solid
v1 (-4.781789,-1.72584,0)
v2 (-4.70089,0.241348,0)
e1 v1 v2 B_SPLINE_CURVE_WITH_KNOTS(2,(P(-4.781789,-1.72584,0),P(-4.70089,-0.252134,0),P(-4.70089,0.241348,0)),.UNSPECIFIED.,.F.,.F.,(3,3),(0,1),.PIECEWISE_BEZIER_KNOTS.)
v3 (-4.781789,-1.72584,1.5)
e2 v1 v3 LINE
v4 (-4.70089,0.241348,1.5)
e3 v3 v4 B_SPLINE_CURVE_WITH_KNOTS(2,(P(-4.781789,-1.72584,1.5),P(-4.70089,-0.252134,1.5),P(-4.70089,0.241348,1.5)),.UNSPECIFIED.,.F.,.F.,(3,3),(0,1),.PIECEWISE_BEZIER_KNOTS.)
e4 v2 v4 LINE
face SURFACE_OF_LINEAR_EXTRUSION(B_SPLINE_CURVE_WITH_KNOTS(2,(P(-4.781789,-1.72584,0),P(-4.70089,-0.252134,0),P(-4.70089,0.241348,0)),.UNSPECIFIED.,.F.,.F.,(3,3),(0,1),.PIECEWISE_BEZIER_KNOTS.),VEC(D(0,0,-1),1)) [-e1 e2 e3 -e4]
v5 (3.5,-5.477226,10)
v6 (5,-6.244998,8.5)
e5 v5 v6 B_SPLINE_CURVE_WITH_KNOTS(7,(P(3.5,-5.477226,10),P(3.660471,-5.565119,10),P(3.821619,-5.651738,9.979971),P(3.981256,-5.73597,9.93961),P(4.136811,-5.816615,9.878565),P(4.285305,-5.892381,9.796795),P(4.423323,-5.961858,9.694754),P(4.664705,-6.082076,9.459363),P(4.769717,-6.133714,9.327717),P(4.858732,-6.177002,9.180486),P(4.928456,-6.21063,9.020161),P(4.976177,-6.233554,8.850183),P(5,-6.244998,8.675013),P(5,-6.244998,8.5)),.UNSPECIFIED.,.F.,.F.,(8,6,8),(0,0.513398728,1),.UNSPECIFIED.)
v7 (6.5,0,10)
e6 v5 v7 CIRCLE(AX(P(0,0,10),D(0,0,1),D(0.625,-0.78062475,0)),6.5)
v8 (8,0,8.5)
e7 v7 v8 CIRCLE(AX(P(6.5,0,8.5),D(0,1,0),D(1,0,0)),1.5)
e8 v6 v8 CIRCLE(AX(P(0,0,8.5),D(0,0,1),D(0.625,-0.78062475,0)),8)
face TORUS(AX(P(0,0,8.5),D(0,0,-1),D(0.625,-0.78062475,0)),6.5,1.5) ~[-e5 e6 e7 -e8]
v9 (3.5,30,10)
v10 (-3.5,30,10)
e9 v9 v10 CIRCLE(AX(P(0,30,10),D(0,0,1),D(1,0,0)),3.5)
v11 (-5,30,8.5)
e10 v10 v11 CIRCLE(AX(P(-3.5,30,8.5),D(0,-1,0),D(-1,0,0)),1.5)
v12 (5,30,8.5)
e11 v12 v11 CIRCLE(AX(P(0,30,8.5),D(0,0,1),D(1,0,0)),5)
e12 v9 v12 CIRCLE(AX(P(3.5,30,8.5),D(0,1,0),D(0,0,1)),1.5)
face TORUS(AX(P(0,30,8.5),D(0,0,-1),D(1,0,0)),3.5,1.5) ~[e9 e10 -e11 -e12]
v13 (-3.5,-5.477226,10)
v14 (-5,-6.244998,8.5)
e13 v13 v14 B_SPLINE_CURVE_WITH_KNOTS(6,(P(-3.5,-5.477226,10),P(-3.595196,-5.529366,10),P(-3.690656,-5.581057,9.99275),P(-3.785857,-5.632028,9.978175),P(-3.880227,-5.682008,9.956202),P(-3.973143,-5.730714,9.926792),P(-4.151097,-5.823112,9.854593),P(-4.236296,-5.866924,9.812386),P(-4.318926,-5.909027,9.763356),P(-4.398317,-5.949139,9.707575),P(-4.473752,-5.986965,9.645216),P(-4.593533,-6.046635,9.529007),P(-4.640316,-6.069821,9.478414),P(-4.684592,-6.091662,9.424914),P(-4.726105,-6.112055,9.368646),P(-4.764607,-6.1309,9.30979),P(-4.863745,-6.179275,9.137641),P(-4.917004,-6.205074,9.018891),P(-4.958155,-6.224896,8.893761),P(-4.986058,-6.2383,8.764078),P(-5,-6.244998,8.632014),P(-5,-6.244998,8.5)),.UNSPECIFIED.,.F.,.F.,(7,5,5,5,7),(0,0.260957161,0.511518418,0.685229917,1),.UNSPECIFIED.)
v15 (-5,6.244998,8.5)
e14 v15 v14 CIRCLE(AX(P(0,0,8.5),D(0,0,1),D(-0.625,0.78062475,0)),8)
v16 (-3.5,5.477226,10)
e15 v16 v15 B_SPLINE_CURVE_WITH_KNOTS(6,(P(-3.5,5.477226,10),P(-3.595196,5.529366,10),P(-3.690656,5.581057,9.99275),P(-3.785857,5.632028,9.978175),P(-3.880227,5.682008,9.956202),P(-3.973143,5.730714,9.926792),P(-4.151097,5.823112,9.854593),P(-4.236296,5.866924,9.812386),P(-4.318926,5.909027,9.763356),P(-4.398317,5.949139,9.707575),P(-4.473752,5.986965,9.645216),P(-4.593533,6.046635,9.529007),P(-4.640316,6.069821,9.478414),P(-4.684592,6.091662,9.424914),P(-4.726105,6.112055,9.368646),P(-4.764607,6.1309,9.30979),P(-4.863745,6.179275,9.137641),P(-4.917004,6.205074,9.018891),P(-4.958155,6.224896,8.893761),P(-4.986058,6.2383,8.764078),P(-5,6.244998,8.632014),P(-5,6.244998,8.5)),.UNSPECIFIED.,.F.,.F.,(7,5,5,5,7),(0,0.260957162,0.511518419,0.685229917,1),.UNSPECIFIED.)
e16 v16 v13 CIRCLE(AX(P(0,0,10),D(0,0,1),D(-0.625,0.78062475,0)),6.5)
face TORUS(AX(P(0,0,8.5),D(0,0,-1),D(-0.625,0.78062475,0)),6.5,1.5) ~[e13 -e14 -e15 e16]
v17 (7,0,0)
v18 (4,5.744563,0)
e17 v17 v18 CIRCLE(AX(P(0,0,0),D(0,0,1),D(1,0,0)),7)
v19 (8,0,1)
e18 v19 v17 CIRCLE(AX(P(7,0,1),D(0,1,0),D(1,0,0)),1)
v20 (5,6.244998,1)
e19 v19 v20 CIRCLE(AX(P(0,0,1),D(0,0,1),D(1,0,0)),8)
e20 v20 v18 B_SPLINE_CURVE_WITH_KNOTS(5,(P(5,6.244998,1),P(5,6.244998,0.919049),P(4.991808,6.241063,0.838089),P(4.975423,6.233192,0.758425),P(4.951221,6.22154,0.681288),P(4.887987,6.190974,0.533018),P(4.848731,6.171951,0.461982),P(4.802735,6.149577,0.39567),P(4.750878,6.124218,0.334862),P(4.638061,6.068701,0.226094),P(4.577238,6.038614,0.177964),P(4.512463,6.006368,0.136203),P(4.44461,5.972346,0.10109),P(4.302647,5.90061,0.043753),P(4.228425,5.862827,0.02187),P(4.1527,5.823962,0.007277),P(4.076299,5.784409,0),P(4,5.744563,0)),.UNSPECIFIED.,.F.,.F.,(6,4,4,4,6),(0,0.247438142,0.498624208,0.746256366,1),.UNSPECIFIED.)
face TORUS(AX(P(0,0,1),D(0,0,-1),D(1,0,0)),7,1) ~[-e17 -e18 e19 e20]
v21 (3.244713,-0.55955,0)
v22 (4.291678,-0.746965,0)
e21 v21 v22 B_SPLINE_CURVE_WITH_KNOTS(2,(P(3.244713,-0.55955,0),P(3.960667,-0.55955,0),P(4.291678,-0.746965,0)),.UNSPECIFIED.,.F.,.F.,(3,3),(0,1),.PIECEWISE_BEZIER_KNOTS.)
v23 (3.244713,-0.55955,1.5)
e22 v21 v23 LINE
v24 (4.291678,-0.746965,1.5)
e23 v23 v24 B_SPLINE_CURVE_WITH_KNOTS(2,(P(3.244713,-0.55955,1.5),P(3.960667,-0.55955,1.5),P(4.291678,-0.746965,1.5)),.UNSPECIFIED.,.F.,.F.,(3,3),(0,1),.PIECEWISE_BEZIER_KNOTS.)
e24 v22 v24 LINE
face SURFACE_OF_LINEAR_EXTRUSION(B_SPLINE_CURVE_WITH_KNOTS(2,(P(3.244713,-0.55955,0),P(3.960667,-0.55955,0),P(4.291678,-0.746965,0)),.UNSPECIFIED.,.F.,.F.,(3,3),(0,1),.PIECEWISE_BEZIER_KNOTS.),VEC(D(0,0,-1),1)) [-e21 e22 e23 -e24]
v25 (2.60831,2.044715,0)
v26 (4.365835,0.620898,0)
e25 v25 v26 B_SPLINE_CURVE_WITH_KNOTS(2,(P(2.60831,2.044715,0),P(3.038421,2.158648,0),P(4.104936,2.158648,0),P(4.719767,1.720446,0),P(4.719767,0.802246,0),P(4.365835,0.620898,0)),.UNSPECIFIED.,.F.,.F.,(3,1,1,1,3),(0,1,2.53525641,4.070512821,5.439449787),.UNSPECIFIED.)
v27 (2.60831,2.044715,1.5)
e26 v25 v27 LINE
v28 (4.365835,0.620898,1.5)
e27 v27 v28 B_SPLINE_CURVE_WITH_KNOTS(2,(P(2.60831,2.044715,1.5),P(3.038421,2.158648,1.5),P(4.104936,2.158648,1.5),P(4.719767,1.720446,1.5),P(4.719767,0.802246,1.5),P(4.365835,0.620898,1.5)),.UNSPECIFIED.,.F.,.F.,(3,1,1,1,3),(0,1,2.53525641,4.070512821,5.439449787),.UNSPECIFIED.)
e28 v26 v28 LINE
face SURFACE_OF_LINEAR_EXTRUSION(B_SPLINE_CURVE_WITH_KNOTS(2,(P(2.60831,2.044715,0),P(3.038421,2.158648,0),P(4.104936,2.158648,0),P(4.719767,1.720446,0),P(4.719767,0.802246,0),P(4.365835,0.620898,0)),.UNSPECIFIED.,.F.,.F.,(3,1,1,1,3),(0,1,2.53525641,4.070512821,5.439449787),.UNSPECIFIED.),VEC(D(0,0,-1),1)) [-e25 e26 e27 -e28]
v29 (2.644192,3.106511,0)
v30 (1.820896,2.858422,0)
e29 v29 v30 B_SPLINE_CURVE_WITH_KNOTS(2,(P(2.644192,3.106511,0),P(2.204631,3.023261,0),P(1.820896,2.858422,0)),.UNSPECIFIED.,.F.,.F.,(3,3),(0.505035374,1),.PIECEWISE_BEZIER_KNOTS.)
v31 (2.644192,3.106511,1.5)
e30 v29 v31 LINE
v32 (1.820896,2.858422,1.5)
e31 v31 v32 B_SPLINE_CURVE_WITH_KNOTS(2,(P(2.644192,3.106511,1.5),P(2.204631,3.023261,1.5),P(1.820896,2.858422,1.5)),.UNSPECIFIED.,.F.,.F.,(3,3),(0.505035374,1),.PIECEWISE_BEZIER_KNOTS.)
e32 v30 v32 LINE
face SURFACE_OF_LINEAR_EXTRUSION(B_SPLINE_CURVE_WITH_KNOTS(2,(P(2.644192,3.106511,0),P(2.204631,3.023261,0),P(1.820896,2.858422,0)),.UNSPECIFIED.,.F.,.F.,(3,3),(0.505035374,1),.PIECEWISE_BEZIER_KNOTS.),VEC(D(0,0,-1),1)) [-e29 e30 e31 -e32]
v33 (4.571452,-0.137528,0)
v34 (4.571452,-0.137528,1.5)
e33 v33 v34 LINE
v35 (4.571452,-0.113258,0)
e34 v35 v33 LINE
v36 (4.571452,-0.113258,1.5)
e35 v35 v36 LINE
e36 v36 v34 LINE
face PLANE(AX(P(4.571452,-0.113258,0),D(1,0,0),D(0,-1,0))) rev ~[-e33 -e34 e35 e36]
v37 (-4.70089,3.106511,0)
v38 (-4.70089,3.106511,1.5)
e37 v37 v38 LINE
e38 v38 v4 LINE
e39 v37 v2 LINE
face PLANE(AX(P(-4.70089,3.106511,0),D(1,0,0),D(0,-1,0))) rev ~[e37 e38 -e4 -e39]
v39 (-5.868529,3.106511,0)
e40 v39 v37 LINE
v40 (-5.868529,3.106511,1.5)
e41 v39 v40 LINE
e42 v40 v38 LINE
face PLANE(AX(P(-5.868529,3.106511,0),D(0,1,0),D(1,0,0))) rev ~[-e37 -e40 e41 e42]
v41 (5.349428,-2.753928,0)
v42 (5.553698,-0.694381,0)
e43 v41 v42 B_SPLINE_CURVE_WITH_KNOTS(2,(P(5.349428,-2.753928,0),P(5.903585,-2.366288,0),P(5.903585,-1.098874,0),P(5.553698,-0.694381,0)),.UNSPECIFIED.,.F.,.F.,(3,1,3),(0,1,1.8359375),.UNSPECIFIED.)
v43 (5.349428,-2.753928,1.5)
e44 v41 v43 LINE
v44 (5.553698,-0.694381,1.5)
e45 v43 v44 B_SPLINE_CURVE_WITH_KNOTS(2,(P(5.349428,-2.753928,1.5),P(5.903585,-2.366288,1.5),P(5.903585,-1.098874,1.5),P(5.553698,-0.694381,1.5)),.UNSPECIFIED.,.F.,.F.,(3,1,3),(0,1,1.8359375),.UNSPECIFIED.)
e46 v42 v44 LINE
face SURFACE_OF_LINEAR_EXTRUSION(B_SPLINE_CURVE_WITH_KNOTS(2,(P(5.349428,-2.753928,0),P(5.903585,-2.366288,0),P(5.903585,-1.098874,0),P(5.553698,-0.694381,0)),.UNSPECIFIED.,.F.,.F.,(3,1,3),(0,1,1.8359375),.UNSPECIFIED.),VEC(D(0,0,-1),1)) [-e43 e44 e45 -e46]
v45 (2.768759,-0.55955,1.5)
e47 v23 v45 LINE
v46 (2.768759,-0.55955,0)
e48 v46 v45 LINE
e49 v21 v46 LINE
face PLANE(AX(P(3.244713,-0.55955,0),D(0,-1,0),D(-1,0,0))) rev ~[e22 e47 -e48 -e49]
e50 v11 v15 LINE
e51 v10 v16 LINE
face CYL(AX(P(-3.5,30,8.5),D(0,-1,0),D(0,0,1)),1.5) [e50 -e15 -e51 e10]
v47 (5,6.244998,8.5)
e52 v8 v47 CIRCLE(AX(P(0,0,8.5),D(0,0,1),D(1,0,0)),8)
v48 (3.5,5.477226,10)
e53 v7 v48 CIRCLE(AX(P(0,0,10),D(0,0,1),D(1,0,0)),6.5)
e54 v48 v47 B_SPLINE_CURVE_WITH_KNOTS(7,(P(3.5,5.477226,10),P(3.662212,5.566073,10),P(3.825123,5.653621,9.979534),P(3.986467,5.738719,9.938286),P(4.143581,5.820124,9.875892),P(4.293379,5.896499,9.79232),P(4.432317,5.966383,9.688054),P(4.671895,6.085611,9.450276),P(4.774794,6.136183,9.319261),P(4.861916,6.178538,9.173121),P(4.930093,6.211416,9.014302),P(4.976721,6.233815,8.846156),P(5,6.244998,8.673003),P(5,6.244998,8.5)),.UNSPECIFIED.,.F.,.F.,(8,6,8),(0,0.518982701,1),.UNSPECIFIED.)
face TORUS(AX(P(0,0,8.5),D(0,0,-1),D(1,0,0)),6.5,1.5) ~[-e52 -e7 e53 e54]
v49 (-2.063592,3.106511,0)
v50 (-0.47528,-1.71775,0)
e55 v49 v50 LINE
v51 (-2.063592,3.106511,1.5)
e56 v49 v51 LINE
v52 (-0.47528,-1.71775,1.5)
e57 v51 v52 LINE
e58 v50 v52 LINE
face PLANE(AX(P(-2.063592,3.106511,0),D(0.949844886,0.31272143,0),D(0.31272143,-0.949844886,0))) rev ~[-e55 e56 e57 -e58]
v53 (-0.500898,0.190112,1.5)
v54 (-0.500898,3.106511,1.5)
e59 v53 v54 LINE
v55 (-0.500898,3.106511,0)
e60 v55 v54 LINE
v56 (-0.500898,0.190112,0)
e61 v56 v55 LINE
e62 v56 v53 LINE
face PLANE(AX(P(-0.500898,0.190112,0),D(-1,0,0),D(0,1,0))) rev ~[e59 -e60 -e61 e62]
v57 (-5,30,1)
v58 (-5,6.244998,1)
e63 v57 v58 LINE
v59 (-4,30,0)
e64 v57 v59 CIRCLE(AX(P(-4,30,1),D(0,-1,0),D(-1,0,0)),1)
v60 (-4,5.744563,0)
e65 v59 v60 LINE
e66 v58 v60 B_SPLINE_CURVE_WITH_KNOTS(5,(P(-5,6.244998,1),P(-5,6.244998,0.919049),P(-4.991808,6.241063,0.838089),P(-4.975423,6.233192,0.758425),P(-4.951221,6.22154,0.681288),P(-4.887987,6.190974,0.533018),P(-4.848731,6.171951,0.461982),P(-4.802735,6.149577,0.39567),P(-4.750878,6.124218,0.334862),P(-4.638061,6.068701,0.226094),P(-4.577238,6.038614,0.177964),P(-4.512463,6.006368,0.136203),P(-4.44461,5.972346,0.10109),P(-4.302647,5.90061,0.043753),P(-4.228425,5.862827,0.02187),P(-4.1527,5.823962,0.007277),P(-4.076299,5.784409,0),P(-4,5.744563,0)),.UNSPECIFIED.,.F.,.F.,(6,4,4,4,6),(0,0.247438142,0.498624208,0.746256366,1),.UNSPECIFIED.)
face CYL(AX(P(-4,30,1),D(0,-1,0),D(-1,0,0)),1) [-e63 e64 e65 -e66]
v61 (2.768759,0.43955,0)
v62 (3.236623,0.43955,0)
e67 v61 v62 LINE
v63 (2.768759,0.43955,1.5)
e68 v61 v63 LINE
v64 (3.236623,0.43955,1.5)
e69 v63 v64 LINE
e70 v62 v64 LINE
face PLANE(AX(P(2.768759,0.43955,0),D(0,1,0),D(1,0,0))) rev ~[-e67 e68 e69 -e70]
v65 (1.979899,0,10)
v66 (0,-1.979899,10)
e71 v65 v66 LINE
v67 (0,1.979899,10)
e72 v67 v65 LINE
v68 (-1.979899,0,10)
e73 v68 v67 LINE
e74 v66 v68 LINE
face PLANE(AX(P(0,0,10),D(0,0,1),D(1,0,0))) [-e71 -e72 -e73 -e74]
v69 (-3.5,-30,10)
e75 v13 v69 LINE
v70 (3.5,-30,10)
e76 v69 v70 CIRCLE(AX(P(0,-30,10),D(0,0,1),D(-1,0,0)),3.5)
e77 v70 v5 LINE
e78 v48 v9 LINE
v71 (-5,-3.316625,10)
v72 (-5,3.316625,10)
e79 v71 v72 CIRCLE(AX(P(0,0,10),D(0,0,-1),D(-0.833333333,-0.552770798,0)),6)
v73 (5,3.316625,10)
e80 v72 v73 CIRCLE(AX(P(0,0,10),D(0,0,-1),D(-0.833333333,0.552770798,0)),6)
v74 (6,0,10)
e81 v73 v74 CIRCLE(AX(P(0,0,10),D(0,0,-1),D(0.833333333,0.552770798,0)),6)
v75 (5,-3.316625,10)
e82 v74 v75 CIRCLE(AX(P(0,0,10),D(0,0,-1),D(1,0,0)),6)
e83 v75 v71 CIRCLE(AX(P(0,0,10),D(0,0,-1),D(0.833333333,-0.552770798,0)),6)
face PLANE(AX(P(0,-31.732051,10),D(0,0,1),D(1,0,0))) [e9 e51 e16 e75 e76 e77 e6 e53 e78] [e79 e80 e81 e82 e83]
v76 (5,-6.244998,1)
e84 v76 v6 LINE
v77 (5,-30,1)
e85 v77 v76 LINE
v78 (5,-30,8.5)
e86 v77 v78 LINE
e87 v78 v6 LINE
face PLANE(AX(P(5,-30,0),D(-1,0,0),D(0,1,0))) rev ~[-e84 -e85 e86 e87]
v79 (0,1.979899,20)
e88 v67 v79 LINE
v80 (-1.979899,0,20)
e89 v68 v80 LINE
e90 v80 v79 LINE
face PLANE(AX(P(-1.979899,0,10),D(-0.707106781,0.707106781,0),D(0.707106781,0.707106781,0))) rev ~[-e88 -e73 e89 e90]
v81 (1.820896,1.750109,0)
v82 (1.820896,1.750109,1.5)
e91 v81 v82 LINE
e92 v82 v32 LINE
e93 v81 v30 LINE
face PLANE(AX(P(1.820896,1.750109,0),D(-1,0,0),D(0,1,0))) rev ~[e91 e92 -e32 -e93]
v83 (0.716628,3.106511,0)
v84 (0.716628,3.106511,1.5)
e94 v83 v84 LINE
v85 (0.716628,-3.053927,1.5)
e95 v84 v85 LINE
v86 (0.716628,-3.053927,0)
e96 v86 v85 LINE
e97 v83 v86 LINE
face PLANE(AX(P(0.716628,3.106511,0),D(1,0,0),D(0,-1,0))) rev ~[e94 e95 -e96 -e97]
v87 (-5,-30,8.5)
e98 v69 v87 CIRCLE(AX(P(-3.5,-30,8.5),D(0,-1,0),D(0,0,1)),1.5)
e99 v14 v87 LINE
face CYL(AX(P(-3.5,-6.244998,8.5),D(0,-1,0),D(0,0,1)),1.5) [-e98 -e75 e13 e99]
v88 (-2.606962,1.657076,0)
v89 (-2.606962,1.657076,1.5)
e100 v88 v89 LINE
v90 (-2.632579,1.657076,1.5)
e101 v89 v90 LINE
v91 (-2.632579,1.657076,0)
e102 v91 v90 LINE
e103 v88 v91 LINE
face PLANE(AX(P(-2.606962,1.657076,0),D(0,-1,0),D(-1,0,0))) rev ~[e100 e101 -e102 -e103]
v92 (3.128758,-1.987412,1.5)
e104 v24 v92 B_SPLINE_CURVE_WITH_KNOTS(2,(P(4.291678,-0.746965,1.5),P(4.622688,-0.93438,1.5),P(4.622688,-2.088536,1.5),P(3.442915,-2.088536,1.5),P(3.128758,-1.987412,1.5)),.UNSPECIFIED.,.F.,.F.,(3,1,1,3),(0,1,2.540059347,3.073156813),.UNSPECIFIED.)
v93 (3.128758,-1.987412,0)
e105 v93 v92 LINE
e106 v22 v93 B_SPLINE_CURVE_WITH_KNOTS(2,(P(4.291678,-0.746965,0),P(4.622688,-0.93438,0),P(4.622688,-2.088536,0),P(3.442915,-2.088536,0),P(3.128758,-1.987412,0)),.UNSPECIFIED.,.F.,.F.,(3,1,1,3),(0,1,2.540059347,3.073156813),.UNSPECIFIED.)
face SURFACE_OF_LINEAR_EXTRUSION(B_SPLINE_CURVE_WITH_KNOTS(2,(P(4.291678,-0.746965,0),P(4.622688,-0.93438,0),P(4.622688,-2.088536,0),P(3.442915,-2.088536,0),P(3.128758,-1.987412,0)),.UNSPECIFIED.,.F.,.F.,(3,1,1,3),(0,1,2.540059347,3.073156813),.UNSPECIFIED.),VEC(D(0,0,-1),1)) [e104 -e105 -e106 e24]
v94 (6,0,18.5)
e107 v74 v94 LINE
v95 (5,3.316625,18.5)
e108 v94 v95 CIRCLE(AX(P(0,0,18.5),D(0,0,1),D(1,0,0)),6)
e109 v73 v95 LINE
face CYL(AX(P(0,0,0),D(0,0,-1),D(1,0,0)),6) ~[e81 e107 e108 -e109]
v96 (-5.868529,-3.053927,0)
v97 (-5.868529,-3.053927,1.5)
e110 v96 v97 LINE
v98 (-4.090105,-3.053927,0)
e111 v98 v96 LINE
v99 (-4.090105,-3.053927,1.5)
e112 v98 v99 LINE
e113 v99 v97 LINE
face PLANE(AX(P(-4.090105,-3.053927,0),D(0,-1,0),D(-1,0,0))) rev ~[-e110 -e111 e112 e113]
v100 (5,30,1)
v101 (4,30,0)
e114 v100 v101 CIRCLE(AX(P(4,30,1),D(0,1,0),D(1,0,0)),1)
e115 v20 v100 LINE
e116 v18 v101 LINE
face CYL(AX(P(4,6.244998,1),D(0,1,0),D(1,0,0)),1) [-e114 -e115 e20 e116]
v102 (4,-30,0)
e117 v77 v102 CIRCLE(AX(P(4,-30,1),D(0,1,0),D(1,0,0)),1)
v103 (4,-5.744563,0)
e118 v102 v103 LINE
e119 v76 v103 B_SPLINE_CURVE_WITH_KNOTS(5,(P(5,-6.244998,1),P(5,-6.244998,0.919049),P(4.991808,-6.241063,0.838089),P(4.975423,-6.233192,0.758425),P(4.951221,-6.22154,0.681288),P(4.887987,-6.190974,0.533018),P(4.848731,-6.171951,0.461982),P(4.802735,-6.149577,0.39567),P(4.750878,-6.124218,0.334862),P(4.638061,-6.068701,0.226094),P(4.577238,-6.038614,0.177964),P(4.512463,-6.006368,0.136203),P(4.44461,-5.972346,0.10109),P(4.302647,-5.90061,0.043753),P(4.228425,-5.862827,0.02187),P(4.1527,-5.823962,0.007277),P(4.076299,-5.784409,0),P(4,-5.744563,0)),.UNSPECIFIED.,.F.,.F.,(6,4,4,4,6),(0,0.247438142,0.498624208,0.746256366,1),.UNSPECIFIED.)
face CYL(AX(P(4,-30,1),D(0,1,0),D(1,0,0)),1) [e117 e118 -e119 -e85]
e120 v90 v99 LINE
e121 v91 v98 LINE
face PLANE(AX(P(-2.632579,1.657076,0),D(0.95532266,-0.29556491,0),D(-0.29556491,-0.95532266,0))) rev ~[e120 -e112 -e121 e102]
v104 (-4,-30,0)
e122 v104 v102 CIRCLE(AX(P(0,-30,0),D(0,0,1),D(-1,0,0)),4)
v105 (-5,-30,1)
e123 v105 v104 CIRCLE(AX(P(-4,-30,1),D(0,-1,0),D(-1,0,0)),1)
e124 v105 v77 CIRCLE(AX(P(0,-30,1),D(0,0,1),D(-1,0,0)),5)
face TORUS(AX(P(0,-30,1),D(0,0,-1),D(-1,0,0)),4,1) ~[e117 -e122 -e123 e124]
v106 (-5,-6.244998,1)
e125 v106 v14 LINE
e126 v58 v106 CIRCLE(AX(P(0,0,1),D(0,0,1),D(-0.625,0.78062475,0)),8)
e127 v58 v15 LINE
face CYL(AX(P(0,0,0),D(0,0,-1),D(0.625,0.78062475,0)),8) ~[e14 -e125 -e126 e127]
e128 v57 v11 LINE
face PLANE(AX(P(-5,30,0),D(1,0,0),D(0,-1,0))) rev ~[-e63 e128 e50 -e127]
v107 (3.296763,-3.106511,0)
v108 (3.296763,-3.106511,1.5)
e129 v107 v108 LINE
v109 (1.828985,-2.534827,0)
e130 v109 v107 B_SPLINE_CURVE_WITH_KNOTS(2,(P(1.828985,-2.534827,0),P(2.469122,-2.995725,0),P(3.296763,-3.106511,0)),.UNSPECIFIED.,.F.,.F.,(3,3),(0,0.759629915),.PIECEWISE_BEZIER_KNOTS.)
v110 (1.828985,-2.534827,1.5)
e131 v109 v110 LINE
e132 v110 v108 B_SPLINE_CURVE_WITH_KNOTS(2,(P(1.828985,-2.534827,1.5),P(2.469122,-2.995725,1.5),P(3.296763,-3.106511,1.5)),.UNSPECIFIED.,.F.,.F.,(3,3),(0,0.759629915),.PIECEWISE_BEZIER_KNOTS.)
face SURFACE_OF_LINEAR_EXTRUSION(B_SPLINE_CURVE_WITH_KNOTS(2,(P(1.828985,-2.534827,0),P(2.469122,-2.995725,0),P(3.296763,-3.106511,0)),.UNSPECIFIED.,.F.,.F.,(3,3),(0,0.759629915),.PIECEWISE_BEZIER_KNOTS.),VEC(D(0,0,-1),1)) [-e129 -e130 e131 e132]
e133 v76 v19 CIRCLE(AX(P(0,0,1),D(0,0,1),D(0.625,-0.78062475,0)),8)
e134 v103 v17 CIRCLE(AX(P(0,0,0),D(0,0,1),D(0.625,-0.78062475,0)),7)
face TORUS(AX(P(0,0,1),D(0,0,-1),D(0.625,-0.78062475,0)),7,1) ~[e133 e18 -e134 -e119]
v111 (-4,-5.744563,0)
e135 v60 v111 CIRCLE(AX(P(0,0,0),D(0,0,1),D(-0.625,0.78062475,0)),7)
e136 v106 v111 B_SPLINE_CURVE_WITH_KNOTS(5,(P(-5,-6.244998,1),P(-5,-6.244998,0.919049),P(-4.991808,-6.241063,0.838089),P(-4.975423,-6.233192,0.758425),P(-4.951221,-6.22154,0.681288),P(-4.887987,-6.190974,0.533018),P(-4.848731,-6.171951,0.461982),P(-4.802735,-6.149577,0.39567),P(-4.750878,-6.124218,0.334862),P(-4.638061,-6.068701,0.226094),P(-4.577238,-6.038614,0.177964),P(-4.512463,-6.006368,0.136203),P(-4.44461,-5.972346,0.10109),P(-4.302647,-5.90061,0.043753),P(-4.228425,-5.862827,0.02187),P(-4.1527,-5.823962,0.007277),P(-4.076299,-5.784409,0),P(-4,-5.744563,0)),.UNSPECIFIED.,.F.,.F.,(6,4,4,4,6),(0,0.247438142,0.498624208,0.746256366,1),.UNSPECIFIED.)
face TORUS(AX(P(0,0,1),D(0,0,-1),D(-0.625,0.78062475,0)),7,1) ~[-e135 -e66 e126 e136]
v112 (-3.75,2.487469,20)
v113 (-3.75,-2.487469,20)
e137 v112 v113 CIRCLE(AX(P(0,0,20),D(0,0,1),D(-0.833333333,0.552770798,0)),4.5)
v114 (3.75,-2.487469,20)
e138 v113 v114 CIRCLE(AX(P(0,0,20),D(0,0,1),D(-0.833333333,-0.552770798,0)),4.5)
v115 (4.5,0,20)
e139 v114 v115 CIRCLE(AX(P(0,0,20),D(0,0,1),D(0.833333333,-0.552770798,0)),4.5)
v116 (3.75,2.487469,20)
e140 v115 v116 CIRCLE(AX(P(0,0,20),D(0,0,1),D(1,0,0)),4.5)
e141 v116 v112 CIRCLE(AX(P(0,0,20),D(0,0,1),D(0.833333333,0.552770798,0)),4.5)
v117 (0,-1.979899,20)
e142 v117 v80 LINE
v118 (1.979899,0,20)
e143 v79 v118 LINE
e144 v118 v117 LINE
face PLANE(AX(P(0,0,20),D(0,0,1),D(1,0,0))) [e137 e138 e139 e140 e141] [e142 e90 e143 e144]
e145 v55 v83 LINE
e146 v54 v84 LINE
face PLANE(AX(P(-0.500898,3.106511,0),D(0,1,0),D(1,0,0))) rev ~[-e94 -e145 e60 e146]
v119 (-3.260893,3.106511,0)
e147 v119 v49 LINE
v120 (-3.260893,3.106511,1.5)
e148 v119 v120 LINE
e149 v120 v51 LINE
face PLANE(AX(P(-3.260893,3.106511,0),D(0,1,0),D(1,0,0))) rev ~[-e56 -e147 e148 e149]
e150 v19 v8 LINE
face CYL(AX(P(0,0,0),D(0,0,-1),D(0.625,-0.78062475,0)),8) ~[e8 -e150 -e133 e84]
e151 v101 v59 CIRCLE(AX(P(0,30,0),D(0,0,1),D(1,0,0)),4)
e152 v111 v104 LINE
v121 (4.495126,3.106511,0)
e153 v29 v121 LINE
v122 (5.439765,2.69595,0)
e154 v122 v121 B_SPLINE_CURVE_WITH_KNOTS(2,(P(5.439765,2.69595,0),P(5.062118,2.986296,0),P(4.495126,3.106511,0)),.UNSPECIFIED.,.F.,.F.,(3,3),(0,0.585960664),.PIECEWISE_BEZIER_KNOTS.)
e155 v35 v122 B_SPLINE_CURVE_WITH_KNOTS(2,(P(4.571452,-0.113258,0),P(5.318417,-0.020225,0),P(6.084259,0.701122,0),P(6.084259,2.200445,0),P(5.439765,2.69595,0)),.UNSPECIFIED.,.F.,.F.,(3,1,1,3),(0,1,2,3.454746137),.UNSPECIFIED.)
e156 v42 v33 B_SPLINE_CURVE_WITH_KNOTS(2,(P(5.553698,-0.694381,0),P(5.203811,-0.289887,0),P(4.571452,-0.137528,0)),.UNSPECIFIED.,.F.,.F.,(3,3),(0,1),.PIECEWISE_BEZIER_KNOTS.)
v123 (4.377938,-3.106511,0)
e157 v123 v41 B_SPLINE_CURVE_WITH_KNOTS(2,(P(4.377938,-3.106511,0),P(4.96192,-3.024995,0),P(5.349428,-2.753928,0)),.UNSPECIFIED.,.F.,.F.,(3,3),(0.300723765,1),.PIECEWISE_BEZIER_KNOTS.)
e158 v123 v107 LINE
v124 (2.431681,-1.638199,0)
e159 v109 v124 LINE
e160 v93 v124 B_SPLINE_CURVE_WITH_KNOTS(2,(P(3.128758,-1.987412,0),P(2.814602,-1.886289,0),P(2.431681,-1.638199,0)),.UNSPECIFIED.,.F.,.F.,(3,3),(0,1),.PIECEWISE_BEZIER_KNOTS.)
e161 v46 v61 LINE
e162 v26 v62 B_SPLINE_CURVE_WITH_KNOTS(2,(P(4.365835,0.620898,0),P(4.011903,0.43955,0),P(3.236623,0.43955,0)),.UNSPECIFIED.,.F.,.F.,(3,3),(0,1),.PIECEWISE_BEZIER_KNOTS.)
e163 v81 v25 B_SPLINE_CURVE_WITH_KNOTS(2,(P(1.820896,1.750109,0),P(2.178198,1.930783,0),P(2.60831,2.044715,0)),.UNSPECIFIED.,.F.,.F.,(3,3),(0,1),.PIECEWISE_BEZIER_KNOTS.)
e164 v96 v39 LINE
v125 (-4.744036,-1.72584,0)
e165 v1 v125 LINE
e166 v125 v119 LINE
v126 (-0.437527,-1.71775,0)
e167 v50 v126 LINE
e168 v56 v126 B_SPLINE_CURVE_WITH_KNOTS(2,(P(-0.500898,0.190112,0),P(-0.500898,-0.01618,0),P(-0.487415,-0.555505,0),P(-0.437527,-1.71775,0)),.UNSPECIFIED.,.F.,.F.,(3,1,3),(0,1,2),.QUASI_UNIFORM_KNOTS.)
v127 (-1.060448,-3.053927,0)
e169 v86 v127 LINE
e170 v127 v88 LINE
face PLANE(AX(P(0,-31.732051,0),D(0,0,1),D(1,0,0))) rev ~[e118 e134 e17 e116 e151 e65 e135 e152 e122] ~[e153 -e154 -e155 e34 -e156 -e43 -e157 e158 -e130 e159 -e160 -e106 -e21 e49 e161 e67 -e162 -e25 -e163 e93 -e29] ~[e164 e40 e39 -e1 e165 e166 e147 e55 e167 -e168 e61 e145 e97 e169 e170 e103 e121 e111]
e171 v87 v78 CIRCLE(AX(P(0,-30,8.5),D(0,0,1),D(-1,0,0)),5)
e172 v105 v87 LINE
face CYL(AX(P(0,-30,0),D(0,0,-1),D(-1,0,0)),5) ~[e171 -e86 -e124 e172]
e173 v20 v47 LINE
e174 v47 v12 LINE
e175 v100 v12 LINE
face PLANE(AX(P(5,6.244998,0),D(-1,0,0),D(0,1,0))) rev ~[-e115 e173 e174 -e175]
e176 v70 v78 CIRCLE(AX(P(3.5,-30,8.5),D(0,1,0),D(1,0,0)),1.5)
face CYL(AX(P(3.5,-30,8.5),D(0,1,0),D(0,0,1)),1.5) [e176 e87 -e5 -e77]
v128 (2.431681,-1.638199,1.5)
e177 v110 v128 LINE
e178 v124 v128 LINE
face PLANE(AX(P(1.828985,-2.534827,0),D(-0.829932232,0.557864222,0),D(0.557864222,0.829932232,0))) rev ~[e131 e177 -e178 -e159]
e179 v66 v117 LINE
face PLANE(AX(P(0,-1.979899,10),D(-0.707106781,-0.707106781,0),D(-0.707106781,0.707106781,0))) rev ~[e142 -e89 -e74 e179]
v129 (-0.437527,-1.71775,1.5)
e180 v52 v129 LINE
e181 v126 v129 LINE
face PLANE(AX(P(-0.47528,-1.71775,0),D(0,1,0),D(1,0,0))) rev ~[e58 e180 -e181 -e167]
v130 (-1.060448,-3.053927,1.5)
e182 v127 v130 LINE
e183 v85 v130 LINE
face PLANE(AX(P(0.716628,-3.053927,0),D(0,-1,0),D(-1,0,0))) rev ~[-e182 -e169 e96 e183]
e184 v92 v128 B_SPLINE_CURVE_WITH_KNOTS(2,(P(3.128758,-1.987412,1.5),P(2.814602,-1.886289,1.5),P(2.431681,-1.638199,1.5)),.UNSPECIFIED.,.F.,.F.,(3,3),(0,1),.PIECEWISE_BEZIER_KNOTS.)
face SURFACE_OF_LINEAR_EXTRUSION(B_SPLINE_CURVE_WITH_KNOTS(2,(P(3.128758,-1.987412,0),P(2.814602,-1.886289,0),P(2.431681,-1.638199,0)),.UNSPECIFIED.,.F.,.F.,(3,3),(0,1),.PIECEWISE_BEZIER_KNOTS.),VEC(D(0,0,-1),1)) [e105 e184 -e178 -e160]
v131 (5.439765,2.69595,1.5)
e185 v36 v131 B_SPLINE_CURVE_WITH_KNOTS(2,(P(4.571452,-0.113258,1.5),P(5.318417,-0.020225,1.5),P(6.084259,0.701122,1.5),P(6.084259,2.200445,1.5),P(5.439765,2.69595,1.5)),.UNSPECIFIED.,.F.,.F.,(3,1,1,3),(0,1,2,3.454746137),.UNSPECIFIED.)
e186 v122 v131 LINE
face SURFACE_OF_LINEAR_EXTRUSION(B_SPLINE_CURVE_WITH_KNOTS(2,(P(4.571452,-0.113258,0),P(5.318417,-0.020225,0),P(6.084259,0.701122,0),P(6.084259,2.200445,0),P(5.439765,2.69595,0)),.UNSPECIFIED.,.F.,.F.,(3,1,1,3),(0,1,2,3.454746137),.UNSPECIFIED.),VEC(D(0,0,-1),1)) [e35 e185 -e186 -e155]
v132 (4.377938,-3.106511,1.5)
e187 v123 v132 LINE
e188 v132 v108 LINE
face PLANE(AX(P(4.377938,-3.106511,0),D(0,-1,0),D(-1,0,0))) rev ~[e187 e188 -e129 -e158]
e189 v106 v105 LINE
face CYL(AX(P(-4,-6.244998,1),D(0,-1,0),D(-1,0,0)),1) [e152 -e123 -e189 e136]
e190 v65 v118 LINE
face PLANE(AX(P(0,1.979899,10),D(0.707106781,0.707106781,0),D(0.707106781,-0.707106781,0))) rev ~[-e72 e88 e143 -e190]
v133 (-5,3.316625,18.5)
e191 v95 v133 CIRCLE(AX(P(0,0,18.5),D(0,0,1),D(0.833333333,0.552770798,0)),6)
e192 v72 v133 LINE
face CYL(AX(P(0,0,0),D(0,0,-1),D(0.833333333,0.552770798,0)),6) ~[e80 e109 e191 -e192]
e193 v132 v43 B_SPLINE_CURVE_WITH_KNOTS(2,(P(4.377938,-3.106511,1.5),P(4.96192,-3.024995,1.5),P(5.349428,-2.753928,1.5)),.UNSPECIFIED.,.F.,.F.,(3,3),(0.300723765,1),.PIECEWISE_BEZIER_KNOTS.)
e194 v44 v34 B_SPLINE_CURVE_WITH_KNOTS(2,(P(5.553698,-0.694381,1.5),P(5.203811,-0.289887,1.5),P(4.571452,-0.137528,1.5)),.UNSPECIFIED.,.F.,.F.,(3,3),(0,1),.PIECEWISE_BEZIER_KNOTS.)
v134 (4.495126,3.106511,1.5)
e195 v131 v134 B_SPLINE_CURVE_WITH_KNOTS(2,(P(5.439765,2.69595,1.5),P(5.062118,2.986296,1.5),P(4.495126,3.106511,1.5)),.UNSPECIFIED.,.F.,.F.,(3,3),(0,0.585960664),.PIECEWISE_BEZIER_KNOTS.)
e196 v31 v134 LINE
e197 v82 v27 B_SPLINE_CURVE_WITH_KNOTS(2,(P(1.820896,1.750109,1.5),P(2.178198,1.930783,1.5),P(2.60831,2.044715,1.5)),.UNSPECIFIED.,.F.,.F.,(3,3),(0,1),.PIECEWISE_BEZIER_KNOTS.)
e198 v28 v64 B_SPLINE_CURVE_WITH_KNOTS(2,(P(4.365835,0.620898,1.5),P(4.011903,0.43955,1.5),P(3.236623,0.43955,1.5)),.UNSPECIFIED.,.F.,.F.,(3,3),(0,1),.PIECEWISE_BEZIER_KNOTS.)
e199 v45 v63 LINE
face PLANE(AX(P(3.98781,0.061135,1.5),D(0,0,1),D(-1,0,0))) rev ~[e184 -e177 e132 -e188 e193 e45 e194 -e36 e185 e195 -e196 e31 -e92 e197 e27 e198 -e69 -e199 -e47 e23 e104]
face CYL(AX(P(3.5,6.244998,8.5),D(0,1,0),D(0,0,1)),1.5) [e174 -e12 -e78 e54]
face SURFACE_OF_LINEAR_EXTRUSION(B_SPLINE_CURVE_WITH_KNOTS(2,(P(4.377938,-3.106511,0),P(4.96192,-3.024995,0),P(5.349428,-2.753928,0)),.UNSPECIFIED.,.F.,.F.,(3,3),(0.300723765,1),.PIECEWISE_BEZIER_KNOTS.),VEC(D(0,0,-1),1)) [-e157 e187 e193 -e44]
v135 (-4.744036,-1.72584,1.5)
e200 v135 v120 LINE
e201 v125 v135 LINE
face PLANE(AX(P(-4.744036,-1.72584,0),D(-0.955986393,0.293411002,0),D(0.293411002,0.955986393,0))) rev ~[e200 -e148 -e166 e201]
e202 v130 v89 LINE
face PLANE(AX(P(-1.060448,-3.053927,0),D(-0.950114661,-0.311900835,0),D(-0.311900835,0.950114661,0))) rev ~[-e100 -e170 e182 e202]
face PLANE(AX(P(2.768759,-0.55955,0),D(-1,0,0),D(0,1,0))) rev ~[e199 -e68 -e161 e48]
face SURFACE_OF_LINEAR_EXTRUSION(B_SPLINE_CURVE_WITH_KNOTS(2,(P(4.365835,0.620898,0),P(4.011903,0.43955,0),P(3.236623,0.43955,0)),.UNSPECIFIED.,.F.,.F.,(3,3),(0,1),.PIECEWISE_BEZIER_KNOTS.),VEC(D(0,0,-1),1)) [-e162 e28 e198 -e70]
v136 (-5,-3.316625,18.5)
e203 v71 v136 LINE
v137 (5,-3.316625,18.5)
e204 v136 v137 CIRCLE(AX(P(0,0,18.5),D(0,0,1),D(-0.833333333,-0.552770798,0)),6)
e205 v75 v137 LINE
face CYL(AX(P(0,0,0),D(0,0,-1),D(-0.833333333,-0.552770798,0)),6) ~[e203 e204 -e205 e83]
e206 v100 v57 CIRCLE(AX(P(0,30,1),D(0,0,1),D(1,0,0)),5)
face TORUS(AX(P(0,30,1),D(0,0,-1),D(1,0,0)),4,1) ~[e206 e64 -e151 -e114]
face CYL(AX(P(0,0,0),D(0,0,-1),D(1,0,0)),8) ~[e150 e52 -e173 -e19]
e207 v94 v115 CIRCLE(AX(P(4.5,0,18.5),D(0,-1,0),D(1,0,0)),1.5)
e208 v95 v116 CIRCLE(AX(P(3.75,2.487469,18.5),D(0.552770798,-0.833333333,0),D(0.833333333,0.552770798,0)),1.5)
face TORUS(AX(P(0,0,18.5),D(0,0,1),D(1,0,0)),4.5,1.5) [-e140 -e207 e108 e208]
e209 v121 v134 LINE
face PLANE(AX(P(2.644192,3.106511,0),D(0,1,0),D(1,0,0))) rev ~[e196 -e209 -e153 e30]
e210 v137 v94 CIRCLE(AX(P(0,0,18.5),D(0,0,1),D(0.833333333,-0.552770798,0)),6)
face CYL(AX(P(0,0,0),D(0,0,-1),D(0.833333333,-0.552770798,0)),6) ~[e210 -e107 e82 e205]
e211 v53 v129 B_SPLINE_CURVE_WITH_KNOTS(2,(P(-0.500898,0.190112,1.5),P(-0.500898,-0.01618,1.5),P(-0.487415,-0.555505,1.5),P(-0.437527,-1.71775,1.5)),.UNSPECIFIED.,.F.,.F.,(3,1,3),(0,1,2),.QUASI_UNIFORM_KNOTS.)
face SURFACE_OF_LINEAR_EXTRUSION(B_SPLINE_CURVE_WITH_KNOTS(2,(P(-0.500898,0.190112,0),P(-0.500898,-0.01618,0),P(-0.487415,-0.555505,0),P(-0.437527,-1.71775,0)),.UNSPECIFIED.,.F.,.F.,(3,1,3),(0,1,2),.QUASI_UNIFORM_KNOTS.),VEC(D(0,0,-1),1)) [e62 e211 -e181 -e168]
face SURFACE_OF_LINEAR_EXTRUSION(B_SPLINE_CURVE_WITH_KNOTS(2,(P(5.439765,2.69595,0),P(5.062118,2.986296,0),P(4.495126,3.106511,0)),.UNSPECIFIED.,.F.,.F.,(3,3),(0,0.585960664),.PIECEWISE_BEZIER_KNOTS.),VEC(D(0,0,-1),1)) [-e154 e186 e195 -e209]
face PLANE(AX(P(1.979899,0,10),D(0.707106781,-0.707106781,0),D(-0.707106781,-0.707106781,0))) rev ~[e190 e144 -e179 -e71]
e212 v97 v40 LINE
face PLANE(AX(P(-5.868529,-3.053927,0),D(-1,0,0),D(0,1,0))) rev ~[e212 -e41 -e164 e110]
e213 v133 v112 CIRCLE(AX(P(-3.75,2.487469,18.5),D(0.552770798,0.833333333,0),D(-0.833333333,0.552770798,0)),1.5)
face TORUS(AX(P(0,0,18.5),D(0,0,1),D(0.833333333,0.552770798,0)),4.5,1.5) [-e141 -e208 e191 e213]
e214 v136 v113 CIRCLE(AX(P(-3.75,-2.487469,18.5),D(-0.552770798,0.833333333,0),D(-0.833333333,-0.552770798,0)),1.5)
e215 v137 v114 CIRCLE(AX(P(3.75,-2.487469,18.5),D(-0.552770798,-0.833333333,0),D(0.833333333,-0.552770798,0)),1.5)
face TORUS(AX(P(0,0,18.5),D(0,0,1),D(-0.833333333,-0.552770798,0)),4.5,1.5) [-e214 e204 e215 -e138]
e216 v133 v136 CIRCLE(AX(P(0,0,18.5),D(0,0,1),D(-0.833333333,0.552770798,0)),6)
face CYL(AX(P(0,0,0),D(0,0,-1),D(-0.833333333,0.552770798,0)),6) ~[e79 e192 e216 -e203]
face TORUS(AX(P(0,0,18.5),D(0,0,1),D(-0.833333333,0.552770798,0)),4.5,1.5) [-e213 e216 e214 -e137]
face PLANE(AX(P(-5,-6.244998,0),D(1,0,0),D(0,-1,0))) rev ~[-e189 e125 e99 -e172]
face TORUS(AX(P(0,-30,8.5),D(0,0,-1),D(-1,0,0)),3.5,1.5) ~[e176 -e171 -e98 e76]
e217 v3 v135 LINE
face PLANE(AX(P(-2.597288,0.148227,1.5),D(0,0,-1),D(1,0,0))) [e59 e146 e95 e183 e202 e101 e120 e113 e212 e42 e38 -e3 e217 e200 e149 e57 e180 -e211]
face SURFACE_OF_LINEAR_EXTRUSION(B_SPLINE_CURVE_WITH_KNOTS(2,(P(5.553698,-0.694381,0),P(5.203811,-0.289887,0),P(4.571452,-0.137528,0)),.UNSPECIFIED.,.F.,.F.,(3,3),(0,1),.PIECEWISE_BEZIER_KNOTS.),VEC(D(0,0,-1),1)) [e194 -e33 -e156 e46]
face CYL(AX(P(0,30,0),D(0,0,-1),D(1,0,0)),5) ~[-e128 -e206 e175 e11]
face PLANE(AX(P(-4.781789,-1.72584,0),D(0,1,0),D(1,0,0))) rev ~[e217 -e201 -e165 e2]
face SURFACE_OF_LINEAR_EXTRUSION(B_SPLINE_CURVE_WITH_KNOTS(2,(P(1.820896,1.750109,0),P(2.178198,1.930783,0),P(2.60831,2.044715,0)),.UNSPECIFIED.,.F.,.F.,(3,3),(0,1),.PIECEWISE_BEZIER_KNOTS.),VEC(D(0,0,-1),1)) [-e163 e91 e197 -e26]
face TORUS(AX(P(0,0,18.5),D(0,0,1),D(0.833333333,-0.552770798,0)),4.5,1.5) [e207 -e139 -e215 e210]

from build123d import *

# Parameters (mm, degrees)
F1_DEPTH  = 20
F2_DEPTH  = 10
F3_R      = 3.5197597043
F4_DEPTH  = 10
F6_DEPTH  = 1.5
F7_R      = 1.5
F8_R      = 1.5
F9_R      = 1
F11_DEPTH = 10


with BuildPart() as f1:
    # F0 (on Top) → F1 (new body)
    with BuildSketch(Plane.XY):
        with BuildLine():
            ThreePointArc((-5, -3.3166247904), (0, -6), (5, -3.3166247904))
            Line((5, -3.3166247904), (5, 3.3166247904))
            ThreePointArc((5, 3.3166247904), (0, 6), (-5, 3.3166247904))
            Line((-5, 3.3166247904), (-5, -3.3166247904))
        make_face()
        Polygon((2.8284271247, 0), (0, -2.8284271247), (-2.8284271247, 0), (0, 2.8284271247), align=None, mode=Mode.SUBTRACT)
        with BuildLine():
            Line((5, 3.3166247904), (5, -3.3166247904))
            ThreePointArc((5, -3.3166247904), (5.7445626465, -1.7320508076), (6, 0))
            ThreePointArc((6, 0), (5.7445626465, 1.7320508076), (5, 3.3166247904))
        make_face()
        with BuildLine():
            ThreePointArc((-5, 3.3166247904), (-6, 0), (-5, -3.3166247904))
            Line((-5, -3.3166247904), (-5, 3.3166247904))
        make_face()
    extrude(amount=F1_DEPTH)

    # F0 (on Top) → F2 (join)
    with BuildSketch(Plane.XY):
        with BuildLine():
            ThreePointArc((-5, -30), (0, -35), (5, -30))
            Line((5, -30), (-5, -30))
        make_face()
        with BuildLine():
            Line((-5, -30), (5, -30))
            Line((5, -30), (5, -6.2449979984))
            ThreePointArc((5, -6.2449979984), (0, -8), (-5, -6.2449979984))
            Line((-5, -6.2449979984), (-5, -30))
        make_face()
        with BuildLine():
            ThreePointArc((-5, -6.2449979984), (0, -8), (5, -6.2449979984))
            Line((5, -6.2449979984), (5, -3.3166247904))
            ThreePointArc((5, -3.3166247904), (0, -6), (-5, -3.3166247904))
            Line((-5, -3.3166247904), (-5, -6.2449979984))
        make_face()
        with BuildLine():
            Line((5, -3.3166247904), (5, -6.2449979984))
            ThreePointArc((5, -6.2449979984), (7.2111025509, -3.4641016151), (8, 0))
            ThreePointArc((8, 0), (7.2111025509, 3.4641016151), (5, 6.2449979984))
            Line((5, 6.2449979984), (5, 3.3166247904))
            ThreePointArc((5, 3.3166247904), (5.7445626465, 1.7320508076), (6, 0))
            ThreePointArc((6, 0), (5.7445626465, -1.7320508076), (5, -3.3166247904))
        make_face()
        with BuildLine():
            ThreePointArc((-5, 6.2449979984), (-8, 0), (-5, -6.2449979984))
            Line((-5, -6.2449979984), (-5, -3.3166247904))
            ThreePointArc((-5, -3.3166247904), (-6, 0), (-5, 3.3166247904))
            Line((-5, 3.3166247904), (-5, 6.2449979984))
        make_face()
        with BuildLine():
            ThreePointArc((5, 6.2449979984), (0, 8), (-5, 6.2449979984))
            Line((-5, 6.2449979984), (-5, 3.3166247904))
            ThreePointArc((-5, 3.3166247904), (0, 6), (5, 3.3166247904))
            Line((5, 3.3166247904), (5, 6.2449979984))
        make_face()
        with BuildLine():
            Line((-5, 30), (-5, 6.2449979984))
            ThreePointArc((-5, 6.2449979984), (0, 8), (5, 6.2449979984))
            Line((5, 6.2449979984), (5, 30))
            Line((5, 30), (-5, 30))
        make_face()
        with BuildLine():
            ThreePointArc((5, 30), (0, 35), (-5, 30))
            Line((-5, 30), (5, 30))
        make_face()
    extrude(amount=F2_DEPTH)

    # F3 (on Top) → F4 (join)
    with BuildSketch(Plane.XY):
        Circle(F3_R)
    extrude(amount=F4_DEPTH)

    # F5 (on face) → F6 (cut)
    with BuildSketch(Plane(origin=(0, 0, 0), x_dir=(1, 0, 0), z_dir=(0, 0, -1))):
        with BuildLine():
            add(Edge.make_bspline(
                [(2.6441919756, -3.1065111855), (2.204631474, -3.0232613545), (1.8208955538, -2.8584217506)],
                knots=[0.5050353738, 0.5050353738, 0.5050353738, 1, 1, 1], degree=2))
            Line((2.6441919756, -3.1065111855), (4.4951263987, -3.1065111855))
            add(Edge.make_bspline(
                [(5.439765355, -2.6959501369), (5.0621176878, -2.9862964082), (4.4951263987, -3.1065111855)],
                knots=[0, 0, 0, 0.5859606644, 0.5859606644, 0.5859606644], degree=2))
            add(Edge.make_bspline(
                [(6.084258561, -1.3119077185), (6.084258561, -2.2004454231), (5.439765355, -2.6959501369)],
                knots=[0, 0, 0, 1, 1, 1], degree=2))
            add(Edge.make_bspline(
                [(5.7013379114, -0.340448817), (6.084258561, -0.7011223162), (6.084258561, -1.3119077185)],
                knots=[0, 0, 0, 1, 1, 1], degree=2))
            add(Edge.make_bspline(
                [(4.5714523327, 0.1132582203), (5.3184172618, 0.0202246822), (5.7013379114, -0.340448817)],
                knots=[0, 0, 0, 1, 1, 1], degree=2))
            Line((4.5714523327, 0.1132582203), (4.5714523327, 0.1375278389))
            add(Edge.make_bspline(
                [(5.5536977314, 0.6943807554), (5.2038107294, 0.2898871115), (4.5714523327, 0.1375278389)],
                knots=[0, 0, 0, 1, 1, 1], degree=2))
            add(Edge.make_bspline(
                [(5.9035847334, 1.6759519981), (5.9035847334, 1.0988743994), (5.5536977314, 0.6943807554)],
                knots=[0, 0, 0, 1, 1, 1], degree=2))
            add(Edge.make_bspline(
                [(5.3494284412, 2.7539275592), (5.9035847334, 2.3662878171), (5.9035847334, 1.6759519981)],
                knots=[0, 0, 0, 1, 1, 1], degree=2))
            add(Edge.make_bspline(
                [(4.3779381685, 3.1065111855), (4.9619201154, 3.0249948188), (5.3494284412, 2.7539275592)],
                knots=[0.3007237646, 0.3007237646, 0.3007237646, 1, 1, 1], degree=2))
            Line((4.3779381685, 3.1065111855), (3.2967626907, 3.1065111855))
            add(Edge.make_bspline(
                [(1.8289854267, 2.5348268354), (2.4691218275, 2.9957250439), (3.2967626907, 3.1065111855)],
                knots=[0, 0, 0, 0.759629915, 0.759629915, 0.759629915], degree=2))
            Line((1.8289854267, 2.5348268354), (2.4316809562, 1.638199258))
            add(Edge.make_bspline(
                [(3.1287583359, 1.9874121039), (2.8146016058, 1.8862886929), (2.4316809562, 1.638199258)],
                knots=[0, 0, 0, 1, 1, 1], degree=2))
            add(Edge.make_bspline(
                [(3.746285299, 2.0885355149), (3.4429150661, 2.0885355149), (3.1287583359, 1.9874121039)],
                knots=[0, 0, 0, 1, 1, 1], degree=2))
            add(Edge.make_bspline(
                [(4.6226881942, 1.3887615109), (4.6226881942, 2.0885355149), (3.746285299, 2.0885355149)],
                knots=[0, 0, 0, 1, 1, 1], degree=2))
            add(Edge.make_bspline(
                [(4.2916775623, 0.7469649292), (4.6226881942, 0.9343803175), (4.6226881942, 1.3887615109)],
                knots=[0, 0, 0, 1, 1, 1], degree=2))
            add(Edge.make_bspline(
                [(3.2447131805, 0.5595495408), (3.9606669303, 0.5595495408), (4.2916775623, 0.7469649292)],
                knots=[0, 0, 0, 1, 1, 1], degree=2))
            Line((3.2447131805, 0.5595495408), (2.7687589928, 0.5595495408))
            Line((2.7687589928, 0.5595495408), (2.7687589928, -0.4395497598))
            Line((2.7687589928, -0.4395497598), (3.2366233076, -0.4395497598))
            add(Edge.make_bspline(
                [(4.3658347303, -0.6208977435), (4.0119027919, -0.4395497598), (3.2366233076, -0.4395497598)],
                knots=[0, 0, 0, 1, 1, 1], degree=2))
            add(Edge.make_bspline(
                [(4.7197666688, -1.2350539262), (4.7197666688, -0.8022457272), (4.3658347303, -0.6208977435)],
                knots=[0, 0, 0, 1, 1, 1], degree=2))
            add(Edge.make_bspline(
                [(4.4123514994, -1.9395470227), (4.7197666688, -1.7204462989), (4.7197666688, -1.2350539262)],
                knots=[0, 0, 0, 1, 1, 1], degree=2))
            add(Edge.make_bspline(
                [(3.4590948118, -2.1586477465), (4.10493633, -2.1586477465), (4.4123514994, -1.9395470227)],
                knots=[0, 0, 0, 1, 1, 1], degree=2))
            add(Edge.make_bspline(
                [(2.6083098474, -2.0447153702), (3.0384214221, -2.1586477465), (3.4590948118, -2.1586477465)],
                knots=[0, 0, 0, 1, 1, 1], degree=2))
            add(Edge.make_bspline(
                [(1.8208955538, -1.7501091661), (2.1781982727, -1.9307829938), (2.6083098474, -2.0447153702)],
                knots=[0, 0, 0, 1, 1, 1], degree=2))
            Line((1.8208955538, -1.7501091661), (1.8208955538, -2.8584217506))
        make_face()
        with BuildLine():
            Line((-0.5008979624, -3.1065111855), (0.7166279059, -3.1065111855))
            Line((0.7166279059, -3.1065111855), (0.7166279059, 3.0539270118))
            Line((0.7166279059, 3.0539270118), (-1.0604475032, 3.0539270118))
            Line((-1.0604475032, 3.0539270118), (-2.6069615352, -1.657075628))
            Line((-2.6069615352, -1.657075628), (-2.632579466, -1.657075628))
            Line((-2.632579466, -1.657075628), (-4.0901048964, 3.0539270118))
            Line((-4.0901048964, 3.0539270118), (-5.8685286176, 3.0539270118))
            Line((-5.8685286176, 3.0539270118), (-5.8685286176, -3.1065111855))
            Line((-5.8685286176, -3.1065111855), (-4.7008902987, -3.1065111855))
            Line((-4.7008902987, -3.1065111855), (-4.7008902987, -0.2413478742))
            add(Edge.make_bspline(
                [(-4.7817890275, 1.7258395475), (-4.7008902987, 0.2521343714), (-4.7008902987, -0.2413478742)],
                knots=[0, 0, 0, 1, 1, 1], degree=2))
            Line((-4.7817890275, 1.7258395475), (-4.7440362874, 1.7258395475))
            Line((-4.7440362874, 1.7258395475), (-3.2608929263, -3.1065111855))
            Line((-3.2608929263, -3.1065111855), (-2.0635917402, -3.1065111855))
            Line((-2.0635917402, -3.1065111855), (-0.4752800316, 1.7177496746))
            Line((-0.4752800316, 1.7177496746), (-0.4375272915, 1.7177496746))
            add(Edge.make_bspline(
                [(-0.4941564017, 0.2858421751), (-0.487414841, 0.5555046044), (-0.4375272915, 1.7177496746)],
                knots=[0, 0, 0, 1, 1, 1], degree=2))
            add(Edge.make_bspline(
                [(-0.5008979624, -0.1901120127), (-0.5008979624, 0.0161797458), (-0.4941564017, 0.2858421751)],
                knots=[0, 0, 0, 1, 1, 1], degree=2))
            Line((-0.5008979624, -0.1901120127), (-0.5008979624, -3.1065111855))
        make_face()
    extrude(amount=-F6_DEPTH, mode=Mode.SUBTRACT)

    # F7
    f7_edges = [f1.edges().sort_by_distance(p)[0] for p in [
        (5, -3.316625, 20),
    ]]
    fillet(f7_edges, radius=F7_R)

    # F8
    f8_edges = [f1.edges().sort_by_distance(p)[0] for p in [
        (0, -35, 10),
        (-5, -18.122499, 10),
        (-8, 0, 10),
        (-5, 18.122499, 10),
        (0, 35, 10),
        (5, 18.122499, 10),
        (8, 0, 10),
        (5, -18.122499, 10),
    ]]
    fillet(f8_edges, radius=F8_R)

    # F9
    f9_edges = [f1.edges().sort_by_distance(p)[0] for p in [
        (5, -18.122499, 0),
        (0, -35, 0),
        (-8, 0, 0),
        (-5, -18.122499, 0),
        (5, 18.122499, 0),
        (-5, 18.122499, 0),
        (0, 35, 0),
        (8, 0, 0),
    ]]
    fillet(f9_edges, radius=F9_R)

    # F10 (on face) → F11 (join)
    with BuildSketch(Plane.XY.offset(10)):
        Polygon((2.8284271247, 0), (0, 2.8284271247), (-2.8284271247, 0), (0, -2.8284271247), align=None)
        Polygon((-1.9798989873, 0), (0, 1.9798989873), (1.9798989873, 0), (0, -1.9798989873), align=None, mode=Mode.SUBTRACT)
    extrude(amount=F11_DEPTH)


solid = f1.part
